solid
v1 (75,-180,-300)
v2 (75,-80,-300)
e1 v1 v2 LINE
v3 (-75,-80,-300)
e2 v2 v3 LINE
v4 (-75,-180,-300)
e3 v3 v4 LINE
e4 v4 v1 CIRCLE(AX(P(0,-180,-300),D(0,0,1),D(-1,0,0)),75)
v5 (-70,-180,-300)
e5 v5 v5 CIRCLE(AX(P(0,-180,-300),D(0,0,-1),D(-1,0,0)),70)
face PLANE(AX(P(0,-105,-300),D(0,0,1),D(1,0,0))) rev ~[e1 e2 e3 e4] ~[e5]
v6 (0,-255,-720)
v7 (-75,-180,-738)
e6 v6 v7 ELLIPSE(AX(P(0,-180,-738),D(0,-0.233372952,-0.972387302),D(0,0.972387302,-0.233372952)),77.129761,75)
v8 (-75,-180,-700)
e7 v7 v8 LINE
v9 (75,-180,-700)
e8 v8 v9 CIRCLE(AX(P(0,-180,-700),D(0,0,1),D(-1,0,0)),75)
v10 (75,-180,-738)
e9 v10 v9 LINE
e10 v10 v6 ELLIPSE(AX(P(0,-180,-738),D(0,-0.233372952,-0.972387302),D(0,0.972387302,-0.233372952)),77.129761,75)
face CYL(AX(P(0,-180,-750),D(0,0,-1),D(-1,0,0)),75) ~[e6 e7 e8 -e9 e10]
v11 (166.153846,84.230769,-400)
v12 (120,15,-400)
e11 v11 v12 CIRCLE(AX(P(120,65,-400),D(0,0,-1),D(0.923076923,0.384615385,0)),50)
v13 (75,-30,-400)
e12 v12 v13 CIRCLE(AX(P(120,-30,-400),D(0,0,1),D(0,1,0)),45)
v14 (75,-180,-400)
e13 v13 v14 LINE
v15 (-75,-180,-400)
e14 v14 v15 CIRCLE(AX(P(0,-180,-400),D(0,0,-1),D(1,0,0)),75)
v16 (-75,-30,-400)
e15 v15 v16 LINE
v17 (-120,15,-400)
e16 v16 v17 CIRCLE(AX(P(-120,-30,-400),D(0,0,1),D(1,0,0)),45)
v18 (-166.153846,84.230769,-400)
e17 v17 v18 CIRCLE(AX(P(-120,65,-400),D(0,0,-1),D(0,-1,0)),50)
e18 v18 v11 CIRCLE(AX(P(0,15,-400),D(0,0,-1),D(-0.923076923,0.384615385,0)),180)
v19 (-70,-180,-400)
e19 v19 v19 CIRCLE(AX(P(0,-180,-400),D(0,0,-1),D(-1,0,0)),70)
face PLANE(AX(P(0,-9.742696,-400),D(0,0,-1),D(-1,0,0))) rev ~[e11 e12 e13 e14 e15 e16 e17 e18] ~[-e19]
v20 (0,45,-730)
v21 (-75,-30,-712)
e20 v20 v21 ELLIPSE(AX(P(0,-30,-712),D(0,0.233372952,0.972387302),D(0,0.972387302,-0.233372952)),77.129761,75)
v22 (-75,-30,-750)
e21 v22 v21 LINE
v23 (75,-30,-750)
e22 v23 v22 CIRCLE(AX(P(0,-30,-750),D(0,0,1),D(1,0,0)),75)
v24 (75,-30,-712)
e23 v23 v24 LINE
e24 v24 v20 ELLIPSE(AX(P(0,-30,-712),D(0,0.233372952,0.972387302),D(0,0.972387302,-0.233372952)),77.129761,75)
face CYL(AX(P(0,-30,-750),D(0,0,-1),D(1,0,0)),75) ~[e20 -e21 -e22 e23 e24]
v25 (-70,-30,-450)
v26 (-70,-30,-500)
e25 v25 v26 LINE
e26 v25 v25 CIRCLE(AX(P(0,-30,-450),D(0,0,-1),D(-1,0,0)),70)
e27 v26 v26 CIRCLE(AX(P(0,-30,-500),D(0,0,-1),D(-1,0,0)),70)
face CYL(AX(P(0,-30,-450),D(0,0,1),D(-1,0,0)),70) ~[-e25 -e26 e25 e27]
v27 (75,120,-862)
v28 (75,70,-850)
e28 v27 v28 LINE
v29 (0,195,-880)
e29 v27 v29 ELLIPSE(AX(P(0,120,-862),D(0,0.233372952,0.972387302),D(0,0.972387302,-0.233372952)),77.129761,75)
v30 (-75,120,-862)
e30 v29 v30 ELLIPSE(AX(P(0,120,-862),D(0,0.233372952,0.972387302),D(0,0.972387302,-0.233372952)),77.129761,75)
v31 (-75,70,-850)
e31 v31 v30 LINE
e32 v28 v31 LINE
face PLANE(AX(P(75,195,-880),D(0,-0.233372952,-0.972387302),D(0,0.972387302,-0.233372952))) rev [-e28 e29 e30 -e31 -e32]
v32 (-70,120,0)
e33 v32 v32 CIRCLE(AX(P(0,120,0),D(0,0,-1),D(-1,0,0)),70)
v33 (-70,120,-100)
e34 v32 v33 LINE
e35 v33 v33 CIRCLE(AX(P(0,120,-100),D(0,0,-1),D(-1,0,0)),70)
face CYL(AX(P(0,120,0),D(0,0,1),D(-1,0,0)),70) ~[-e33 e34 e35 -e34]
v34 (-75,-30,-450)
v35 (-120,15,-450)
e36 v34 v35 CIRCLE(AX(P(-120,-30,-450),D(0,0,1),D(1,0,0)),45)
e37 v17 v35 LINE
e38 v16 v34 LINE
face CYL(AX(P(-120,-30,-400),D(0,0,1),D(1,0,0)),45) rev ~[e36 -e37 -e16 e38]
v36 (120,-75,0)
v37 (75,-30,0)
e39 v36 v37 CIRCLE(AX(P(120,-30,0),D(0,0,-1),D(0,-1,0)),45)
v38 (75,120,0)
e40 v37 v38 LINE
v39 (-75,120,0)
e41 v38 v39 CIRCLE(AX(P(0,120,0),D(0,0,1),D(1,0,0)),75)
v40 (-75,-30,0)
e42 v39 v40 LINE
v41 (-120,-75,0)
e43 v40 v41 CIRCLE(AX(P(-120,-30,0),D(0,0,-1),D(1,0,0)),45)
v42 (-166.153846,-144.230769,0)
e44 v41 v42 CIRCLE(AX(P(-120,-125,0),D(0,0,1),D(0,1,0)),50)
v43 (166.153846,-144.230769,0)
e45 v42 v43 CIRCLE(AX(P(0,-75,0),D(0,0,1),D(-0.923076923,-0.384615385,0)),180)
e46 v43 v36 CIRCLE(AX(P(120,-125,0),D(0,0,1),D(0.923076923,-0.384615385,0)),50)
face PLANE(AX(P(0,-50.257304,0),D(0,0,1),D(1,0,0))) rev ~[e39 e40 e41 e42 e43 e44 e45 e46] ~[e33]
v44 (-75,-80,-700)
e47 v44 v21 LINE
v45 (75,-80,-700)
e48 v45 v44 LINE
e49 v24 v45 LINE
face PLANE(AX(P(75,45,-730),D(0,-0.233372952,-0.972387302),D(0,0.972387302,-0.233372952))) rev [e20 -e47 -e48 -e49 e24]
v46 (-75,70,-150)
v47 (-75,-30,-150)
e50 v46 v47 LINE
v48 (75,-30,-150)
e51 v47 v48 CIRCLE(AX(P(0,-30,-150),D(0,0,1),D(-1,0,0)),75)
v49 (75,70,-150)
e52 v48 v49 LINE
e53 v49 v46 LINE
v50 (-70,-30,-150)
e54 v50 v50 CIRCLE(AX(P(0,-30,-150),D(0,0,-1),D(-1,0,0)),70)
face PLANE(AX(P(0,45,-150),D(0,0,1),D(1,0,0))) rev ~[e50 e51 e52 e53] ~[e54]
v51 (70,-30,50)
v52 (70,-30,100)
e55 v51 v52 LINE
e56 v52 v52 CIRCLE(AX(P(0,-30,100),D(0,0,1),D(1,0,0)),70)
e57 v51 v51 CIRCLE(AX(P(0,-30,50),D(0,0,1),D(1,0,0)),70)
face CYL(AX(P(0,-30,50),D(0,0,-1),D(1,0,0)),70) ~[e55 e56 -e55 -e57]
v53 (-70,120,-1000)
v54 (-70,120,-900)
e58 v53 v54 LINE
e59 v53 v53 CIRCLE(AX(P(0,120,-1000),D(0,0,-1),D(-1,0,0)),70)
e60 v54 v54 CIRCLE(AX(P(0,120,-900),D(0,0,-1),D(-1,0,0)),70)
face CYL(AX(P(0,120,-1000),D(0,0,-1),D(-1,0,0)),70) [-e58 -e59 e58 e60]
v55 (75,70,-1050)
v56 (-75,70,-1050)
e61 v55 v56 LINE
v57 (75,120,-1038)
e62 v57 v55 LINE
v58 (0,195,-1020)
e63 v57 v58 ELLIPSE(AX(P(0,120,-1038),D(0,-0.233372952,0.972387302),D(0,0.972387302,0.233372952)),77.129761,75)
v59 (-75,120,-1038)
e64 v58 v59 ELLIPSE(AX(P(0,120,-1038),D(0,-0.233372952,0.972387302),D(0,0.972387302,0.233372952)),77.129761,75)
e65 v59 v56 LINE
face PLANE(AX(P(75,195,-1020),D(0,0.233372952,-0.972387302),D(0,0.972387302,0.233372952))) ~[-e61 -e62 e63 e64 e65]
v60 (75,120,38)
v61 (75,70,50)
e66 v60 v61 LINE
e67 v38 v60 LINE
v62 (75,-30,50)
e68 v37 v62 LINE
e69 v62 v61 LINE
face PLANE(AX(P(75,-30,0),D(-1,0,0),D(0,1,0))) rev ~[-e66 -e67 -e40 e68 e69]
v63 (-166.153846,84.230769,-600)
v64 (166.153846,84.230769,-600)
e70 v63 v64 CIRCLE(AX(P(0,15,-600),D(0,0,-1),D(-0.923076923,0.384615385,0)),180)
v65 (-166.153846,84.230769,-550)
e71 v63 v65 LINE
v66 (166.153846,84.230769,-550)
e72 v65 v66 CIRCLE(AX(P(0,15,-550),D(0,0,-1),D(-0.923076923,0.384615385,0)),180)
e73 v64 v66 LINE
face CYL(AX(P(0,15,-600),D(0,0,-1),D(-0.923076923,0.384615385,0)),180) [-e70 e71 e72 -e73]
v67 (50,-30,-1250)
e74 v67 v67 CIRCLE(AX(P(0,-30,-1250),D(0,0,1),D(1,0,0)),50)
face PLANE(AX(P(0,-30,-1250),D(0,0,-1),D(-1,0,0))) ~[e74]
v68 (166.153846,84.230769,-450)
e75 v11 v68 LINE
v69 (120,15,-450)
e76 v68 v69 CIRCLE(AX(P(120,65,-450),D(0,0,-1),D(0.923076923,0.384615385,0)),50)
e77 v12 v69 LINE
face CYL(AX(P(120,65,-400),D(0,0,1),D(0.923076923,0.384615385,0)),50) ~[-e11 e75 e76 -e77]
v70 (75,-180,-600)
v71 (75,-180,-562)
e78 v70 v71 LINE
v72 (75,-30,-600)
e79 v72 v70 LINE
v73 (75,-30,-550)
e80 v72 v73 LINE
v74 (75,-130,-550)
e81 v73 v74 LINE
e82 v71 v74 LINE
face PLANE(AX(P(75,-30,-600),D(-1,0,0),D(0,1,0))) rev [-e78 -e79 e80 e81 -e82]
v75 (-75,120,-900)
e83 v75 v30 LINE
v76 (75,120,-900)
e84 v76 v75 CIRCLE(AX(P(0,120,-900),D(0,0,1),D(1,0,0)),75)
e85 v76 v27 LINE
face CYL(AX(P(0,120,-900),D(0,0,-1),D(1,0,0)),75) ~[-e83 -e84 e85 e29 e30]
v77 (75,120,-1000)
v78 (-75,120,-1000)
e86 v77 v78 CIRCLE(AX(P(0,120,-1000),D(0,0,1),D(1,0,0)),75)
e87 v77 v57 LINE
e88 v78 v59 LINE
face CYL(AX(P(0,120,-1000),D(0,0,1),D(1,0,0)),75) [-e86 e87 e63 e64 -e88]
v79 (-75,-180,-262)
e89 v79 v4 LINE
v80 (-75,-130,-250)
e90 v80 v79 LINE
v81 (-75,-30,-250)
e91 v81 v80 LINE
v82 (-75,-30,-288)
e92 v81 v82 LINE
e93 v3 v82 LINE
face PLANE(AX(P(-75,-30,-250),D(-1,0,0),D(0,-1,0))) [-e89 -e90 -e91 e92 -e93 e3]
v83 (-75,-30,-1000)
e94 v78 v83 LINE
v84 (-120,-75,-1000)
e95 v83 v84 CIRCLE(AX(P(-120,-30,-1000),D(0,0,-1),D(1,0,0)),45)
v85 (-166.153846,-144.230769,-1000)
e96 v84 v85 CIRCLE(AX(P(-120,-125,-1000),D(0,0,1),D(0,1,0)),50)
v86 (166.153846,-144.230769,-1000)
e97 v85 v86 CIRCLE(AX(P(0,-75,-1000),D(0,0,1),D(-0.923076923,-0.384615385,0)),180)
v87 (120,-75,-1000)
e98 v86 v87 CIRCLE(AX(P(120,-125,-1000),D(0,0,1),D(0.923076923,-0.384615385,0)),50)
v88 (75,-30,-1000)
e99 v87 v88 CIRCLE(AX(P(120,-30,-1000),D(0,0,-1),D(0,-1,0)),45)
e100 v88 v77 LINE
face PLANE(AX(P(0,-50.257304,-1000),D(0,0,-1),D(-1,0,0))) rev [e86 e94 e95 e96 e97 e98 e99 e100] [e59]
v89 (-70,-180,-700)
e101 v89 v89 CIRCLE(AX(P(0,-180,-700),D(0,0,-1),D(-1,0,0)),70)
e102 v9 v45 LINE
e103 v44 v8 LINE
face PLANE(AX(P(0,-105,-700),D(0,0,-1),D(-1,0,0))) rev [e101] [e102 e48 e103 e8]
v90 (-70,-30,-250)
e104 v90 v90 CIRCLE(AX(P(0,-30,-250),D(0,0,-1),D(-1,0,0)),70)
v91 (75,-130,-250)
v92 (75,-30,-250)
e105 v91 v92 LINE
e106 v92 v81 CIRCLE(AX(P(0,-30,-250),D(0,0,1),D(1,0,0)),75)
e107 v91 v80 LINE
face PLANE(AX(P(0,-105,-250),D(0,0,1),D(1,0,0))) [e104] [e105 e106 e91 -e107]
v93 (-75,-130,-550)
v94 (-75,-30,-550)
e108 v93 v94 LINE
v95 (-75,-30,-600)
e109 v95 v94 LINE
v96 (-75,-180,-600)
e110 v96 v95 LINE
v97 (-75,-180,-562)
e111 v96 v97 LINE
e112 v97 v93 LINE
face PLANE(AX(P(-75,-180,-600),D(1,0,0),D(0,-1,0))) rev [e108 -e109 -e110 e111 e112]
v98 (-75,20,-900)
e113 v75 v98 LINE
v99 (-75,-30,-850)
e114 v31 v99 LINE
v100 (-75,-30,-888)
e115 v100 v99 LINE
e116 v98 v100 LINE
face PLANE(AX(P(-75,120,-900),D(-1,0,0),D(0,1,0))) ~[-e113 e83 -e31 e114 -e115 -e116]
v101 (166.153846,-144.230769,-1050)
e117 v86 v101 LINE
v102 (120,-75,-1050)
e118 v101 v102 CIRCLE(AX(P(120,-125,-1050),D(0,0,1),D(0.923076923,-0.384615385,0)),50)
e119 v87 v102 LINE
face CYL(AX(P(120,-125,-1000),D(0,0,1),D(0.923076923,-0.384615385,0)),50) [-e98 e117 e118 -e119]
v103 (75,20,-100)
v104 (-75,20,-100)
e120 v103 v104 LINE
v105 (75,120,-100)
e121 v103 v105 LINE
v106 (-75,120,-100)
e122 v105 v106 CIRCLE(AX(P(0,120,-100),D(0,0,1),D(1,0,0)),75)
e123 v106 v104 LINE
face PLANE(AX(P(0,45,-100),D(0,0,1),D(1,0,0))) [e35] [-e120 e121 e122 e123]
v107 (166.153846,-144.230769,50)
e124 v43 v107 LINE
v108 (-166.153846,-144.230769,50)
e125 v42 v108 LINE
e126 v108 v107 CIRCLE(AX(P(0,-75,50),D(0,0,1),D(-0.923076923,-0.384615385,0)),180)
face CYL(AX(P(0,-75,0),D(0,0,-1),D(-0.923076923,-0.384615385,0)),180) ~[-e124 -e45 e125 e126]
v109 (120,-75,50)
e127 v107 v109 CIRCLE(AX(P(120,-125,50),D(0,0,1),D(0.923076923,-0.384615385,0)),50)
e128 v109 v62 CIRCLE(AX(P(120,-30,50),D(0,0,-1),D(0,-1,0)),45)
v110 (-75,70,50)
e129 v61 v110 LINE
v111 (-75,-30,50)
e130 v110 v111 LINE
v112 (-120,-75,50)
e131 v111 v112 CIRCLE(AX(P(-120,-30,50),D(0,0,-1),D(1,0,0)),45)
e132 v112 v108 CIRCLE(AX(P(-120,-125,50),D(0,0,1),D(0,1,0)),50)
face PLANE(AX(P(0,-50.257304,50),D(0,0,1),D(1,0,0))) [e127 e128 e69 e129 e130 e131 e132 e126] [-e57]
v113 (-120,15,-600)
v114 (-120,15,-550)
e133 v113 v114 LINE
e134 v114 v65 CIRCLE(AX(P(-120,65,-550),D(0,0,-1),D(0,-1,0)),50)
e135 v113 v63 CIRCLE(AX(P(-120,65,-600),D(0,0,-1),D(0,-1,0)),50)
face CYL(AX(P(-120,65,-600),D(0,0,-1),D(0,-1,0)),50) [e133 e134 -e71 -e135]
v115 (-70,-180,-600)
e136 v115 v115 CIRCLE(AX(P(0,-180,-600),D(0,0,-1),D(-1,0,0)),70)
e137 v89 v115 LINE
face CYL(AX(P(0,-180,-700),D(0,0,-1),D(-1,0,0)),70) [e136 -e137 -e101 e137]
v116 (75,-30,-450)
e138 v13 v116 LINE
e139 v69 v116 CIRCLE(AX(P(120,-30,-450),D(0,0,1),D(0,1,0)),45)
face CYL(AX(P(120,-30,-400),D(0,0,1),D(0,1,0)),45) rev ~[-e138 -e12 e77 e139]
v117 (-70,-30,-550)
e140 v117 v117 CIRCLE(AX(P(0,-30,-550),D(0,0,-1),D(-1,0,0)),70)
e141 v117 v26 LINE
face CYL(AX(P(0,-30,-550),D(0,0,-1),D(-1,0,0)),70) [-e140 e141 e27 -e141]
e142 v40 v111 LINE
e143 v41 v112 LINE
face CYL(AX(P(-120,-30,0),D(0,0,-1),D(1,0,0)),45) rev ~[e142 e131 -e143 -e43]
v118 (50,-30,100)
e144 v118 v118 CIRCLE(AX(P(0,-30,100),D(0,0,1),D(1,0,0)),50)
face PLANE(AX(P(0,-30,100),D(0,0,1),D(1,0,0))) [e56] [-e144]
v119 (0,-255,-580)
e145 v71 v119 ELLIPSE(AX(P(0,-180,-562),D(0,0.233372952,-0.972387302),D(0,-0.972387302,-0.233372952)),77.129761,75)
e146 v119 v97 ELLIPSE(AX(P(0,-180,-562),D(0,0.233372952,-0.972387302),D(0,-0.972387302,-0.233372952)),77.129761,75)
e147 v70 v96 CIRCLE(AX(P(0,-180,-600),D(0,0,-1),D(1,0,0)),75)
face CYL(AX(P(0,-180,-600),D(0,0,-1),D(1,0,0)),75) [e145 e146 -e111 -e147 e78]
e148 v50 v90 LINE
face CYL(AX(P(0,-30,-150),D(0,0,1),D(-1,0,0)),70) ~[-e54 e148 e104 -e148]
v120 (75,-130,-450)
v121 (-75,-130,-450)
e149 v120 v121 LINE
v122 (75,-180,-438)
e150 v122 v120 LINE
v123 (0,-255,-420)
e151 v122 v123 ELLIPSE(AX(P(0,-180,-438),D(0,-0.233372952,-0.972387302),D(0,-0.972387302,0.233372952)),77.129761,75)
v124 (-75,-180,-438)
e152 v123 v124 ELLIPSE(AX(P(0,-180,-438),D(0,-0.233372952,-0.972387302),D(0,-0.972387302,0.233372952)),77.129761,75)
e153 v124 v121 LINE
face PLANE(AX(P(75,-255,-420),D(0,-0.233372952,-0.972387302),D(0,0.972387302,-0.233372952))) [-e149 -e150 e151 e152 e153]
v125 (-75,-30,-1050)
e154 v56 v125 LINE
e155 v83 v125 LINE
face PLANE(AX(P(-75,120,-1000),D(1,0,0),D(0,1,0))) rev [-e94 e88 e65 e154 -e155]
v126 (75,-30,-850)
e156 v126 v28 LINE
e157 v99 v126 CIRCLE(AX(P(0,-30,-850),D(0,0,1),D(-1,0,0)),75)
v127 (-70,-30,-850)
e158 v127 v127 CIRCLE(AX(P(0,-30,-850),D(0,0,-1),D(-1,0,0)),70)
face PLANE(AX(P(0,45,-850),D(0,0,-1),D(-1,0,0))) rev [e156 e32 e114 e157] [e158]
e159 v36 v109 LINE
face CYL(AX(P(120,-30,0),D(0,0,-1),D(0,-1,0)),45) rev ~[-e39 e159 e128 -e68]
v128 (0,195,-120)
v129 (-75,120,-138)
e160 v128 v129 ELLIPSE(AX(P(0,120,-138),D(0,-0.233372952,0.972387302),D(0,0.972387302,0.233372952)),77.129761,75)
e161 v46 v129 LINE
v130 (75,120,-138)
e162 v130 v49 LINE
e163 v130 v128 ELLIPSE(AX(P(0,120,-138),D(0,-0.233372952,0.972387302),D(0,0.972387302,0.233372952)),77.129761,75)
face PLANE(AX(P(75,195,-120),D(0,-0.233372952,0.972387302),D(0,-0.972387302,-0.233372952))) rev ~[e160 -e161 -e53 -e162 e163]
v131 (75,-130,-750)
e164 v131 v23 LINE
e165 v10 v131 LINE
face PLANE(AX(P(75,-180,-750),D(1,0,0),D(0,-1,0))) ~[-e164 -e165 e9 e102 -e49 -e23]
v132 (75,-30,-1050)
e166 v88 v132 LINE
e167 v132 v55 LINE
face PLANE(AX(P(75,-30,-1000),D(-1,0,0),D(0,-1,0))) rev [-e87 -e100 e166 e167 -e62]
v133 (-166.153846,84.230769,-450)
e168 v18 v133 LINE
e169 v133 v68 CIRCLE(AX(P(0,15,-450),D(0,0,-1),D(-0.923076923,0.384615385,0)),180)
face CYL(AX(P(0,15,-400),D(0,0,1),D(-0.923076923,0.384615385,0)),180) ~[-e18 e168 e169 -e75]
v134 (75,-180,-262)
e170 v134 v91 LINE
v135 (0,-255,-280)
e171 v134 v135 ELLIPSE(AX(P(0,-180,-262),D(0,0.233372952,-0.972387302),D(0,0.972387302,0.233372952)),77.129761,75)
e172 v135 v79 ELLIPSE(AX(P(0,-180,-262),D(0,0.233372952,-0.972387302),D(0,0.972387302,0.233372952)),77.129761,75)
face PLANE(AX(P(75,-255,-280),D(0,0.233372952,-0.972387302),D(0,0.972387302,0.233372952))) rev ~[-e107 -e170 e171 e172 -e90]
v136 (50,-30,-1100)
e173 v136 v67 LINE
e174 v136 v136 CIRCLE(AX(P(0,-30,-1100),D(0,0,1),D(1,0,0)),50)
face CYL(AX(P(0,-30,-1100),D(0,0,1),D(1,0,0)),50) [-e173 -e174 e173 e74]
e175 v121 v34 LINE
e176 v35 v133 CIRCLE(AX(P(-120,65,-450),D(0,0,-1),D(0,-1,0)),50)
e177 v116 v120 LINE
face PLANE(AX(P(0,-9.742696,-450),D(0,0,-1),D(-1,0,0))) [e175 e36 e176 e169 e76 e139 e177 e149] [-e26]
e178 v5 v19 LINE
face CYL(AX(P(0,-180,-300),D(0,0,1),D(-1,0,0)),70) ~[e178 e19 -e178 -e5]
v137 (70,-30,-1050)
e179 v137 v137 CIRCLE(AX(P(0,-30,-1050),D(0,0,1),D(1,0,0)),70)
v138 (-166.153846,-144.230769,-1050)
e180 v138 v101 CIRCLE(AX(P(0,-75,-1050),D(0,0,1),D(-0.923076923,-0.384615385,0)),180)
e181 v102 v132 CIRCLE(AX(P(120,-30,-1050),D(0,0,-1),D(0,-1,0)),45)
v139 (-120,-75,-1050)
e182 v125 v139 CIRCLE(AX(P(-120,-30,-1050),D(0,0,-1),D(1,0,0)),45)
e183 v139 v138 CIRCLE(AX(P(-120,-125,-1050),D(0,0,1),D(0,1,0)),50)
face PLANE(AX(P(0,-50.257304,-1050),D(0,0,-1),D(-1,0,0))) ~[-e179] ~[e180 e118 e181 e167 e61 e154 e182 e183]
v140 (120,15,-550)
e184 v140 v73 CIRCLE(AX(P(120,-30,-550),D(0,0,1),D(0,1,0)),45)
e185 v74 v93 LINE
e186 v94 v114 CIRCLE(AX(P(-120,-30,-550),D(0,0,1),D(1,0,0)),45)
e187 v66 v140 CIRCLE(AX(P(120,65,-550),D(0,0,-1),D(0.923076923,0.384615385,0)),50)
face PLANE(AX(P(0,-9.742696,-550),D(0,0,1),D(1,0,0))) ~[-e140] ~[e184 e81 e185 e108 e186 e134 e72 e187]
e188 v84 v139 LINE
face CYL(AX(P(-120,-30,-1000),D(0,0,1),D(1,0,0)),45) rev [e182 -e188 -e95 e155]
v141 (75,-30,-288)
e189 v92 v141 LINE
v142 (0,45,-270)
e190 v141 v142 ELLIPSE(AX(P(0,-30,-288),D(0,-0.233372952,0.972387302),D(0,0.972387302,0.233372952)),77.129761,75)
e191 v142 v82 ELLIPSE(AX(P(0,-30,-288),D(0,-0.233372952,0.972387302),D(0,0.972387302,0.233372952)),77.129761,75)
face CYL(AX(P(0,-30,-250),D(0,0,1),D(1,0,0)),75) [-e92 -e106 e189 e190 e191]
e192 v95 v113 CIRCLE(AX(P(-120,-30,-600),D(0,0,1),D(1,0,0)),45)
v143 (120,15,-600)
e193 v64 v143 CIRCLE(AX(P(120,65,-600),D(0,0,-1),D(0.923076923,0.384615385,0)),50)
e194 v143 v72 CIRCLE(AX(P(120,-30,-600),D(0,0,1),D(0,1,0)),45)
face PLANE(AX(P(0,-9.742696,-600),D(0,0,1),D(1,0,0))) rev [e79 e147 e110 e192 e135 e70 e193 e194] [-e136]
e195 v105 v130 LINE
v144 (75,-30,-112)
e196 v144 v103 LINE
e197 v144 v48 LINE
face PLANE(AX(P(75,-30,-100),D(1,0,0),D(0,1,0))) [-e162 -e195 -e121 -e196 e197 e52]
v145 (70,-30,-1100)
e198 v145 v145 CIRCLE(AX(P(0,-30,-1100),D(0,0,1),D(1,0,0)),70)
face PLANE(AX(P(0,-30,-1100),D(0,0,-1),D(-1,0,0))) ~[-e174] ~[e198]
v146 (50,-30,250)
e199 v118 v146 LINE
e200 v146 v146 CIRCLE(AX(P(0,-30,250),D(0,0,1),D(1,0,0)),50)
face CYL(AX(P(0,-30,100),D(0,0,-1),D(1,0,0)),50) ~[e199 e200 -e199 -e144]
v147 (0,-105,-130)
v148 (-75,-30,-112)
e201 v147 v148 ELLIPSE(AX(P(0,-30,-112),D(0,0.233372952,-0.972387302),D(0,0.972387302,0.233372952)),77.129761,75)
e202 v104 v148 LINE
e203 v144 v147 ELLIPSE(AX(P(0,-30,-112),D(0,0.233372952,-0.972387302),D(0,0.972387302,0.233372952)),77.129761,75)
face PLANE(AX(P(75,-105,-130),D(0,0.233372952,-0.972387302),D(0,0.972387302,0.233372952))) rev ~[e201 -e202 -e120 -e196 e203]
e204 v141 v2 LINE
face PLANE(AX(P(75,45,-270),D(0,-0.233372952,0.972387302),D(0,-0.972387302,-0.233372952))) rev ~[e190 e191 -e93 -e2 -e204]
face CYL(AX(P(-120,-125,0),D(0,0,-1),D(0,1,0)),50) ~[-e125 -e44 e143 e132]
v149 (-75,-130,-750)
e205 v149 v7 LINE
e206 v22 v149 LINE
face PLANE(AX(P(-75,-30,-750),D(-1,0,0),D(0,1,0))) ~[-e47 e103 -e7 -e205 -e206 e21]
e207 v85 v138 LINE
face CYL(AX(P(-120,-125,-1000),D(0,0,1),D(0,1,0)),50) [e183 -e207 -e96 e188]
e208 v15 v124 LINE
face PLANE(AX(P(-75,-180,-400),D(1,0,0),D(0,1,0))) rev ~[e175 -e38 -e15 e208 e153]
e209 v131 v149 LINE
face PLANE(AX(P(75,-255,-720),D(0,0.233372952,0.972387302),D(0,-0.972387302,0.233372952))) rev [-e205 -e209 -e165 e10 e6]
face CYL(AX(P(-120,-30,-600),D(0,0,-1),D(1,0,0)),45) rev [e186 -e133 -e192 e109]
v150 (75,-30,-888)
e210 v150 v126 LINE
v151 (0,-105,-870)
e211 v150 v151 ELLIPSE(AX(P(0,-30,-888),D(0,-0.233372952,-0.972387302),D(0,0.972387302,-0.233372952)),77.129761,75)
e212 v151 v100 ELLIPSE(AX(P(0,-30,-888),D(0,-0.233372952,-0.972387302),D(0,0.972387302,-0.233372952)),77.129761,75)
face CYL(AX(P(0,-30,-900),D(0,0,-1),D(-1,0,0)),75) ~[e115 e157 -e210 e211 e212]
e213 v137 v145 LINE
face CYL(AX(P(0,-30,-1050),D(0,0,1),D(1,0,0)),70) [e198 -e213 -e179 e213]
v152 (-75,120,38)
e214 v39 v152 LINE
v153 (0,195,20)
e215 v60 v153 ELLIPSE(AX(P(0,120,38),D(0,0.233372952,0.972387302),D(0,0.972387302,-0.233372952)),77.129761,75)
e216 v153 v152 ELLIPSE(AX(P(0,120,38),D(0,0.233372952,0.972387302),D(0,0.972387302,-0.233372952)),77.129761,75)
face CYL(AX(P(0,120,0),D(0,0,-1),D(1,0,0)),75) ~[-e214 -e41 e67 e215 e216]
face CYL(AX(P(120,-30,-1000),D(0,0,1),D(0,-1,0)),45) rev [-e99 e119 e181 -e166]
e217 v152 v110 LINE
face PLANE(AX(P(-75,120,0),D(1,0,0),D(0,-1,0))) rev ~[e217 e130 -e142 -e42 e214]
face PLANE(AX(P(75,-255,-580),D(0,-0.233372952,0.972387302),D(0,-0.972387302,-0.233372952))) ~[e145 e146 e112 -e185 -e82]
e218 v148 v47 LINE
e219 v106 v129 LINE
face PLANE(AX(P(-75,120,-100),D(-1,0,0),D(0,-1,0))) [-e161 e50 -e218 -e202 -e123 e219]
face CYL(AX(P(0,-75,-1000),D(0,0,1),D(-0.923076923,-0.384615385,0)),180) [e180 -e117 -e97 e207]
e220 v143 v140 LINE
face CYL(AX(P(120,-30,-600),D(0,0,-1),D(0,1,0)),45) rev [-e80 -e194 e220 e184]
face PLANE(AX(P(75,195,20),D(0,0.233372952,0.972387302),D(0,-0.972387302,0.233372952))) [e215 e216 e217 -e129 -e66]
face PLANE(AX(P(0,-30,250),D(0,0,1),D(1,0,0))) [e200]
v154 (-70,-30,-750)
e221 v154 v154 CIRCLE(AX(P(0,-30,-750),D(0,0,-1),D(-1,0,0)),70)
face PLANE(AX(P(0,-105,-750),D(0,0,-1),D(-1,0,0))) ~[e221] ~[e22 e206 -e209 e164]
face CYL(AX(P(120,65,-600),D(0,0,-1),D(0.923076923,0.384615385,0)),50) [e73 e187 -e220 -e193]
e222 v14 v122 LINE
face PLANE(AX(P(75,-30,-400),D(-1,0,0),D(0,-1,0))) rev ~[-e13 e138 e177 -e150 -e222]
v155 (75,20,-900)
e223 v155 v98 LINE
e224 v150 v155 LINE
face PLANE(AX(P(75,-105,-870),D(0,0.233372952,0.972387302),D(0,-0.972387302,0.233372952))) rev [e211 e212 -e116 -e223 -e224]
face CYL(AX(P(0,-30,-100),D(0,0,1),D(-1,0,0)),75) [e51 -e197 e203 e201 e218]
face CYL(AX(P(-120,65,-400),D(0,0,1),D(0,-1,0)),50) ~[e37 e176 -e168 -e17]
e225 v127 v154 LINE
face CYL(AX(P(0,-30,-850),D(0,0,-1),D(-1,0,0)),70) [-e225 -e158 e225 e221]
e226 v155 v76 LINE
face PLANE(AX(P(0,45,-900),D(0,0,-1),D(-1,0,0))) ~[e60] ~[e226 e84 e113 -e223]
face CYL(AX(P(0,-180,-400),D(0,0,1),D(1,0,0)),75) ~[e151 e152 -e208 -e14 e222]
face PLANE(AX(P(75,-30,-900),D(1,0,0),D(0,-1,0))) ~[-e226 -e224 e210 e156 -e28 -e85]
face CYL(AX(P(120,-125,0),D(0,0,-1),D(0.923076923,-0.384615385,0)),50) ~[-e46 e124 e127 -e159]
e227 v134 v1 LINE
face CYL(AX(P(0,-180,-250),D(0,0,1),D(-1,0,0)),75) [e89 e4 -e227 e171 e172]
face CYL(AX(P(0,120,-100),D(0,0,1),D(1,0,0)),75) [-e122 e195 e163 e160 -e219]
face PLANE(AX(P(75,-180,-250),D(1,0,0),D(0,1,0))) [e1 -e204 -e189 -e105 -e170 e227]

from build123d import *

# Parameters (mm, degrees)
BOSS_EXTRUDE1_DEPTH  = 50
CUT_EXTRUDE1_DEPTH   = 246
SKETCH6_R            = 70
BOSS_EXTRUDE2_DEPTH  = 100
BOSS_EXTRUDE3_DEPTH  = 50
SKETCH8_R            = 70
BOSS_EXTRUDE4_DEPTH  = 100
BOSS_EXTRUDE5_DEPTH  = 50
SKETCH10_R           = 70
BOSS_EXTRUDE6_DEPTH  = 100
BOSS_EXTRUDE7_DEPTH  = 50
SKETCH12_R           = 70
BOSS_EXTRUDE8_DEPTH  = 50
SKETCH13_R           = 70
BOSS_EXTRUDE9_DEPTH  = 50
SKETCH14_R           = 50
BOSS_EXTRUDE11_DEPTH = 150
CUT_EXTRUDE2_DEPTH   = 246


with BuildPart() as part:
    # Sketch1 → Boss-Extrude1 (new body)
    with BuildSketch(Plane.XY):
        with BuildLine():
            Line((-75, 120), (-75, -30))
            ThreePointArc((-75, -30), (-88.180194847, -61.819805153), (-120, -75))
            ThreePointArc((-120, -75), (-161.602514717, -97.264990189), (-166.153846154, -144.230769231))
            ThreePointArc((-166.153846154, -144.230769231), (0, -255), (166.153846154, -144.230769231))
            ThreePointArc((166.153846154, -144.230769231), (161.602514717, -97.264990189), (120, -75))
            ThreePointArc((120, -75), (88.180194847, -61.819805153), (75, -30))
            Line((75, -30), (75, 120))
            ThreePointArc((75, 120), (0, 195), (-75, 120))
        make_face()
    extrude(amount=BOSS_EXTRUDE1_DEPTH)

    # Sketch5 → Cut-Extrude1 (cut, through all)
    with BuildSketch(Plane(origin=(75, 0, 0), x_dir=(0, 0, -1), z_dir=(1, 0, 0))):
        Polygon((-50, 70), (-50, 195), (-20, 195), align=None)
    extrude(amount=-CUT_EXTRUDE1_DEPTH, mode=Mode.SUBTRACT)

    # Sketch6 → Boss-Extrude2 (add)
    with BuildSketch(Plane(origin=(0, 0, 0), x_dir=(-1, 0, 0), z_dir=(0, 0, -1))):
        with Locations((0, 120)):
            Circle(SKETCH6_R)
    extrude(amount=BOSS_EXTRUDE2_DEPTH)

    # Sketch7 → Boss-Extrude3 (add)
    with BuildSketch(Plane(origin=(0, 0, -100), x_dir=(-1, 0, 0), z_dir=(0, 0, -1))):
        with BuildLine():
            Line((75, 120), (75, -30))
            ThreePointArc((75, -30), (0, -105), (-75, -30))
            Line((-75, -30), (-75, 120))
            ThreePointArc((-75, 120), (0, 195), (75, 120))
        make_face()
    extrude(amount=BOSS_EXTRUDE3_DEPTH)

    # Sketch8 → Boss-Extrude4 (add)
    with BuildSketch(Plane(origin=(0, 0, -150), x_dir=(-1, 0, 0), z_dir=(0, 0, -1))):
        with Locations((0, -30)):
            Circle(SKETCH8_R)
    extrude(amount=BOSS_EXTRUDE4_DEPTH)

    # Sketch9 → Boss-Extrude5 (add)
    with BuildSketch(Plane(origin=(0, 0, -250), x_dir=(-1, 0, 0), z_dir=(0, 0, -1))):
        with BuildLine():
            Line((75, -30), (75, -180))
            ThreePointArc((75, -180), (0, -255), (-75, -180))
            Line((-75, -180), (-75, -30))
            ThreePointArc((-75, -30), (0, 45), (75, -30))
        make_face()
    extrude(amount=BOSS_EXTRUDE5_DEPTH)

    # Sketch10 → Boss-Extrude6 (add)
    with BuildSketch(Plane(origin=(0, 0, -300), x_dir=(-1, 0, 0), z_dir=(0, 0, -1))):
        with Locations((0, -180)):
            Circle(SKETCH10_R)
    extrude(amount=BOSS_EXTRUDE6_DEPTH)

    # Sketch11 → Boss-Extrude7 (add)
    with BuildSketch(Plane(origin=(0, 0, -400), x_dir=(-1, 0, 0), z_dir=(0, 0, -1))):
        with BuildLine():
            Line((75, -180), (75, -30))
            ThreePointArc((75, -30), (88.180194847, 1.819805153), (120, 15))
            ThreePointArc((120, 15), (161.602514717, 37.264990189), (166.153846154, 84.230769231))
            ThreePointArc((166.153846154, 84.230769231), (0, 195), (-166.153846154, 84.230769231))
            ThreePointArc((-166.153846154, 84.230769231), (-161.602514717, 37.264990189), (-120, 15))
            ThreePointArc((-120, 15), (-88.180194847, 1.819805153), (-75, -30))
            Line((-75, -30), (-75, -180))
            ThreePointArc((-75, -180), (0, -255), (75, -180))
        make_face()
    extrude(amount=BOSS_EXTRUDE7_DEPTH)

    # Sketch12 → Boss-Extrude8 (add)
    with BuildSketch(Plane(origin=(0, 0, -450), x_dir=(-1, 0, 0), z_dir=(0, 0, -1))):
        with Locations((0, -30)):
            Circle(SKETCH12_R)
    extrude(amount=BOSS_EXTRUDE8_DEPTH)

    # Sketch13 → Boss-Extrude9 (add)
    with BuildSketch(Plane.XY.offset(50)):
        with Locations((0, -30)):
            Circle(SKETCH13_R)
    extrude(amount=BOSS_EXTRUDE9_DEPTH)

    # Sketch14 → Boss-Extrude11 (add)
    with BuildSketch(Plane.XY.offset(100)):
        with Locations((0, -30)):
            Circle(SKETCH14_R)
    extrude(amount=BOSS_EXTRUDE11_DEPTH)

    # Sketch15 → Cut-Extrude2 (cut, through all)
    with BuildSketch(Plane(origin=(75, 0, 0), x_dir=(0, 0, -1), z_dir=(1, 0, 0))):
        Polygon((100, 20), (100, -105), (130, -105), align=None)
        Polygon((150, 70), (150, 195), (120, 195), align=None)
        Polygon((300, -80), (300, 45), (270, 45), align=None)
        Polygon((250, -130), (250, -255), (280, -255), align=None)
        Polygon((450, -130), (450, -255), (420, -255), align=None)
    extrude(amount=-CUT_EXTRUDE2_DEPTH, mode=Mode.SUBTRACT)

    # Mirror2: part across plane


with BuildPart() as part_1:
    add(part.part)
    add(part.part.mirror(Plane(origin=(0, -30, -500), x_dir=(1, 0, 0), z_dir=(0, 0, -1))))


solid = part_1.part
